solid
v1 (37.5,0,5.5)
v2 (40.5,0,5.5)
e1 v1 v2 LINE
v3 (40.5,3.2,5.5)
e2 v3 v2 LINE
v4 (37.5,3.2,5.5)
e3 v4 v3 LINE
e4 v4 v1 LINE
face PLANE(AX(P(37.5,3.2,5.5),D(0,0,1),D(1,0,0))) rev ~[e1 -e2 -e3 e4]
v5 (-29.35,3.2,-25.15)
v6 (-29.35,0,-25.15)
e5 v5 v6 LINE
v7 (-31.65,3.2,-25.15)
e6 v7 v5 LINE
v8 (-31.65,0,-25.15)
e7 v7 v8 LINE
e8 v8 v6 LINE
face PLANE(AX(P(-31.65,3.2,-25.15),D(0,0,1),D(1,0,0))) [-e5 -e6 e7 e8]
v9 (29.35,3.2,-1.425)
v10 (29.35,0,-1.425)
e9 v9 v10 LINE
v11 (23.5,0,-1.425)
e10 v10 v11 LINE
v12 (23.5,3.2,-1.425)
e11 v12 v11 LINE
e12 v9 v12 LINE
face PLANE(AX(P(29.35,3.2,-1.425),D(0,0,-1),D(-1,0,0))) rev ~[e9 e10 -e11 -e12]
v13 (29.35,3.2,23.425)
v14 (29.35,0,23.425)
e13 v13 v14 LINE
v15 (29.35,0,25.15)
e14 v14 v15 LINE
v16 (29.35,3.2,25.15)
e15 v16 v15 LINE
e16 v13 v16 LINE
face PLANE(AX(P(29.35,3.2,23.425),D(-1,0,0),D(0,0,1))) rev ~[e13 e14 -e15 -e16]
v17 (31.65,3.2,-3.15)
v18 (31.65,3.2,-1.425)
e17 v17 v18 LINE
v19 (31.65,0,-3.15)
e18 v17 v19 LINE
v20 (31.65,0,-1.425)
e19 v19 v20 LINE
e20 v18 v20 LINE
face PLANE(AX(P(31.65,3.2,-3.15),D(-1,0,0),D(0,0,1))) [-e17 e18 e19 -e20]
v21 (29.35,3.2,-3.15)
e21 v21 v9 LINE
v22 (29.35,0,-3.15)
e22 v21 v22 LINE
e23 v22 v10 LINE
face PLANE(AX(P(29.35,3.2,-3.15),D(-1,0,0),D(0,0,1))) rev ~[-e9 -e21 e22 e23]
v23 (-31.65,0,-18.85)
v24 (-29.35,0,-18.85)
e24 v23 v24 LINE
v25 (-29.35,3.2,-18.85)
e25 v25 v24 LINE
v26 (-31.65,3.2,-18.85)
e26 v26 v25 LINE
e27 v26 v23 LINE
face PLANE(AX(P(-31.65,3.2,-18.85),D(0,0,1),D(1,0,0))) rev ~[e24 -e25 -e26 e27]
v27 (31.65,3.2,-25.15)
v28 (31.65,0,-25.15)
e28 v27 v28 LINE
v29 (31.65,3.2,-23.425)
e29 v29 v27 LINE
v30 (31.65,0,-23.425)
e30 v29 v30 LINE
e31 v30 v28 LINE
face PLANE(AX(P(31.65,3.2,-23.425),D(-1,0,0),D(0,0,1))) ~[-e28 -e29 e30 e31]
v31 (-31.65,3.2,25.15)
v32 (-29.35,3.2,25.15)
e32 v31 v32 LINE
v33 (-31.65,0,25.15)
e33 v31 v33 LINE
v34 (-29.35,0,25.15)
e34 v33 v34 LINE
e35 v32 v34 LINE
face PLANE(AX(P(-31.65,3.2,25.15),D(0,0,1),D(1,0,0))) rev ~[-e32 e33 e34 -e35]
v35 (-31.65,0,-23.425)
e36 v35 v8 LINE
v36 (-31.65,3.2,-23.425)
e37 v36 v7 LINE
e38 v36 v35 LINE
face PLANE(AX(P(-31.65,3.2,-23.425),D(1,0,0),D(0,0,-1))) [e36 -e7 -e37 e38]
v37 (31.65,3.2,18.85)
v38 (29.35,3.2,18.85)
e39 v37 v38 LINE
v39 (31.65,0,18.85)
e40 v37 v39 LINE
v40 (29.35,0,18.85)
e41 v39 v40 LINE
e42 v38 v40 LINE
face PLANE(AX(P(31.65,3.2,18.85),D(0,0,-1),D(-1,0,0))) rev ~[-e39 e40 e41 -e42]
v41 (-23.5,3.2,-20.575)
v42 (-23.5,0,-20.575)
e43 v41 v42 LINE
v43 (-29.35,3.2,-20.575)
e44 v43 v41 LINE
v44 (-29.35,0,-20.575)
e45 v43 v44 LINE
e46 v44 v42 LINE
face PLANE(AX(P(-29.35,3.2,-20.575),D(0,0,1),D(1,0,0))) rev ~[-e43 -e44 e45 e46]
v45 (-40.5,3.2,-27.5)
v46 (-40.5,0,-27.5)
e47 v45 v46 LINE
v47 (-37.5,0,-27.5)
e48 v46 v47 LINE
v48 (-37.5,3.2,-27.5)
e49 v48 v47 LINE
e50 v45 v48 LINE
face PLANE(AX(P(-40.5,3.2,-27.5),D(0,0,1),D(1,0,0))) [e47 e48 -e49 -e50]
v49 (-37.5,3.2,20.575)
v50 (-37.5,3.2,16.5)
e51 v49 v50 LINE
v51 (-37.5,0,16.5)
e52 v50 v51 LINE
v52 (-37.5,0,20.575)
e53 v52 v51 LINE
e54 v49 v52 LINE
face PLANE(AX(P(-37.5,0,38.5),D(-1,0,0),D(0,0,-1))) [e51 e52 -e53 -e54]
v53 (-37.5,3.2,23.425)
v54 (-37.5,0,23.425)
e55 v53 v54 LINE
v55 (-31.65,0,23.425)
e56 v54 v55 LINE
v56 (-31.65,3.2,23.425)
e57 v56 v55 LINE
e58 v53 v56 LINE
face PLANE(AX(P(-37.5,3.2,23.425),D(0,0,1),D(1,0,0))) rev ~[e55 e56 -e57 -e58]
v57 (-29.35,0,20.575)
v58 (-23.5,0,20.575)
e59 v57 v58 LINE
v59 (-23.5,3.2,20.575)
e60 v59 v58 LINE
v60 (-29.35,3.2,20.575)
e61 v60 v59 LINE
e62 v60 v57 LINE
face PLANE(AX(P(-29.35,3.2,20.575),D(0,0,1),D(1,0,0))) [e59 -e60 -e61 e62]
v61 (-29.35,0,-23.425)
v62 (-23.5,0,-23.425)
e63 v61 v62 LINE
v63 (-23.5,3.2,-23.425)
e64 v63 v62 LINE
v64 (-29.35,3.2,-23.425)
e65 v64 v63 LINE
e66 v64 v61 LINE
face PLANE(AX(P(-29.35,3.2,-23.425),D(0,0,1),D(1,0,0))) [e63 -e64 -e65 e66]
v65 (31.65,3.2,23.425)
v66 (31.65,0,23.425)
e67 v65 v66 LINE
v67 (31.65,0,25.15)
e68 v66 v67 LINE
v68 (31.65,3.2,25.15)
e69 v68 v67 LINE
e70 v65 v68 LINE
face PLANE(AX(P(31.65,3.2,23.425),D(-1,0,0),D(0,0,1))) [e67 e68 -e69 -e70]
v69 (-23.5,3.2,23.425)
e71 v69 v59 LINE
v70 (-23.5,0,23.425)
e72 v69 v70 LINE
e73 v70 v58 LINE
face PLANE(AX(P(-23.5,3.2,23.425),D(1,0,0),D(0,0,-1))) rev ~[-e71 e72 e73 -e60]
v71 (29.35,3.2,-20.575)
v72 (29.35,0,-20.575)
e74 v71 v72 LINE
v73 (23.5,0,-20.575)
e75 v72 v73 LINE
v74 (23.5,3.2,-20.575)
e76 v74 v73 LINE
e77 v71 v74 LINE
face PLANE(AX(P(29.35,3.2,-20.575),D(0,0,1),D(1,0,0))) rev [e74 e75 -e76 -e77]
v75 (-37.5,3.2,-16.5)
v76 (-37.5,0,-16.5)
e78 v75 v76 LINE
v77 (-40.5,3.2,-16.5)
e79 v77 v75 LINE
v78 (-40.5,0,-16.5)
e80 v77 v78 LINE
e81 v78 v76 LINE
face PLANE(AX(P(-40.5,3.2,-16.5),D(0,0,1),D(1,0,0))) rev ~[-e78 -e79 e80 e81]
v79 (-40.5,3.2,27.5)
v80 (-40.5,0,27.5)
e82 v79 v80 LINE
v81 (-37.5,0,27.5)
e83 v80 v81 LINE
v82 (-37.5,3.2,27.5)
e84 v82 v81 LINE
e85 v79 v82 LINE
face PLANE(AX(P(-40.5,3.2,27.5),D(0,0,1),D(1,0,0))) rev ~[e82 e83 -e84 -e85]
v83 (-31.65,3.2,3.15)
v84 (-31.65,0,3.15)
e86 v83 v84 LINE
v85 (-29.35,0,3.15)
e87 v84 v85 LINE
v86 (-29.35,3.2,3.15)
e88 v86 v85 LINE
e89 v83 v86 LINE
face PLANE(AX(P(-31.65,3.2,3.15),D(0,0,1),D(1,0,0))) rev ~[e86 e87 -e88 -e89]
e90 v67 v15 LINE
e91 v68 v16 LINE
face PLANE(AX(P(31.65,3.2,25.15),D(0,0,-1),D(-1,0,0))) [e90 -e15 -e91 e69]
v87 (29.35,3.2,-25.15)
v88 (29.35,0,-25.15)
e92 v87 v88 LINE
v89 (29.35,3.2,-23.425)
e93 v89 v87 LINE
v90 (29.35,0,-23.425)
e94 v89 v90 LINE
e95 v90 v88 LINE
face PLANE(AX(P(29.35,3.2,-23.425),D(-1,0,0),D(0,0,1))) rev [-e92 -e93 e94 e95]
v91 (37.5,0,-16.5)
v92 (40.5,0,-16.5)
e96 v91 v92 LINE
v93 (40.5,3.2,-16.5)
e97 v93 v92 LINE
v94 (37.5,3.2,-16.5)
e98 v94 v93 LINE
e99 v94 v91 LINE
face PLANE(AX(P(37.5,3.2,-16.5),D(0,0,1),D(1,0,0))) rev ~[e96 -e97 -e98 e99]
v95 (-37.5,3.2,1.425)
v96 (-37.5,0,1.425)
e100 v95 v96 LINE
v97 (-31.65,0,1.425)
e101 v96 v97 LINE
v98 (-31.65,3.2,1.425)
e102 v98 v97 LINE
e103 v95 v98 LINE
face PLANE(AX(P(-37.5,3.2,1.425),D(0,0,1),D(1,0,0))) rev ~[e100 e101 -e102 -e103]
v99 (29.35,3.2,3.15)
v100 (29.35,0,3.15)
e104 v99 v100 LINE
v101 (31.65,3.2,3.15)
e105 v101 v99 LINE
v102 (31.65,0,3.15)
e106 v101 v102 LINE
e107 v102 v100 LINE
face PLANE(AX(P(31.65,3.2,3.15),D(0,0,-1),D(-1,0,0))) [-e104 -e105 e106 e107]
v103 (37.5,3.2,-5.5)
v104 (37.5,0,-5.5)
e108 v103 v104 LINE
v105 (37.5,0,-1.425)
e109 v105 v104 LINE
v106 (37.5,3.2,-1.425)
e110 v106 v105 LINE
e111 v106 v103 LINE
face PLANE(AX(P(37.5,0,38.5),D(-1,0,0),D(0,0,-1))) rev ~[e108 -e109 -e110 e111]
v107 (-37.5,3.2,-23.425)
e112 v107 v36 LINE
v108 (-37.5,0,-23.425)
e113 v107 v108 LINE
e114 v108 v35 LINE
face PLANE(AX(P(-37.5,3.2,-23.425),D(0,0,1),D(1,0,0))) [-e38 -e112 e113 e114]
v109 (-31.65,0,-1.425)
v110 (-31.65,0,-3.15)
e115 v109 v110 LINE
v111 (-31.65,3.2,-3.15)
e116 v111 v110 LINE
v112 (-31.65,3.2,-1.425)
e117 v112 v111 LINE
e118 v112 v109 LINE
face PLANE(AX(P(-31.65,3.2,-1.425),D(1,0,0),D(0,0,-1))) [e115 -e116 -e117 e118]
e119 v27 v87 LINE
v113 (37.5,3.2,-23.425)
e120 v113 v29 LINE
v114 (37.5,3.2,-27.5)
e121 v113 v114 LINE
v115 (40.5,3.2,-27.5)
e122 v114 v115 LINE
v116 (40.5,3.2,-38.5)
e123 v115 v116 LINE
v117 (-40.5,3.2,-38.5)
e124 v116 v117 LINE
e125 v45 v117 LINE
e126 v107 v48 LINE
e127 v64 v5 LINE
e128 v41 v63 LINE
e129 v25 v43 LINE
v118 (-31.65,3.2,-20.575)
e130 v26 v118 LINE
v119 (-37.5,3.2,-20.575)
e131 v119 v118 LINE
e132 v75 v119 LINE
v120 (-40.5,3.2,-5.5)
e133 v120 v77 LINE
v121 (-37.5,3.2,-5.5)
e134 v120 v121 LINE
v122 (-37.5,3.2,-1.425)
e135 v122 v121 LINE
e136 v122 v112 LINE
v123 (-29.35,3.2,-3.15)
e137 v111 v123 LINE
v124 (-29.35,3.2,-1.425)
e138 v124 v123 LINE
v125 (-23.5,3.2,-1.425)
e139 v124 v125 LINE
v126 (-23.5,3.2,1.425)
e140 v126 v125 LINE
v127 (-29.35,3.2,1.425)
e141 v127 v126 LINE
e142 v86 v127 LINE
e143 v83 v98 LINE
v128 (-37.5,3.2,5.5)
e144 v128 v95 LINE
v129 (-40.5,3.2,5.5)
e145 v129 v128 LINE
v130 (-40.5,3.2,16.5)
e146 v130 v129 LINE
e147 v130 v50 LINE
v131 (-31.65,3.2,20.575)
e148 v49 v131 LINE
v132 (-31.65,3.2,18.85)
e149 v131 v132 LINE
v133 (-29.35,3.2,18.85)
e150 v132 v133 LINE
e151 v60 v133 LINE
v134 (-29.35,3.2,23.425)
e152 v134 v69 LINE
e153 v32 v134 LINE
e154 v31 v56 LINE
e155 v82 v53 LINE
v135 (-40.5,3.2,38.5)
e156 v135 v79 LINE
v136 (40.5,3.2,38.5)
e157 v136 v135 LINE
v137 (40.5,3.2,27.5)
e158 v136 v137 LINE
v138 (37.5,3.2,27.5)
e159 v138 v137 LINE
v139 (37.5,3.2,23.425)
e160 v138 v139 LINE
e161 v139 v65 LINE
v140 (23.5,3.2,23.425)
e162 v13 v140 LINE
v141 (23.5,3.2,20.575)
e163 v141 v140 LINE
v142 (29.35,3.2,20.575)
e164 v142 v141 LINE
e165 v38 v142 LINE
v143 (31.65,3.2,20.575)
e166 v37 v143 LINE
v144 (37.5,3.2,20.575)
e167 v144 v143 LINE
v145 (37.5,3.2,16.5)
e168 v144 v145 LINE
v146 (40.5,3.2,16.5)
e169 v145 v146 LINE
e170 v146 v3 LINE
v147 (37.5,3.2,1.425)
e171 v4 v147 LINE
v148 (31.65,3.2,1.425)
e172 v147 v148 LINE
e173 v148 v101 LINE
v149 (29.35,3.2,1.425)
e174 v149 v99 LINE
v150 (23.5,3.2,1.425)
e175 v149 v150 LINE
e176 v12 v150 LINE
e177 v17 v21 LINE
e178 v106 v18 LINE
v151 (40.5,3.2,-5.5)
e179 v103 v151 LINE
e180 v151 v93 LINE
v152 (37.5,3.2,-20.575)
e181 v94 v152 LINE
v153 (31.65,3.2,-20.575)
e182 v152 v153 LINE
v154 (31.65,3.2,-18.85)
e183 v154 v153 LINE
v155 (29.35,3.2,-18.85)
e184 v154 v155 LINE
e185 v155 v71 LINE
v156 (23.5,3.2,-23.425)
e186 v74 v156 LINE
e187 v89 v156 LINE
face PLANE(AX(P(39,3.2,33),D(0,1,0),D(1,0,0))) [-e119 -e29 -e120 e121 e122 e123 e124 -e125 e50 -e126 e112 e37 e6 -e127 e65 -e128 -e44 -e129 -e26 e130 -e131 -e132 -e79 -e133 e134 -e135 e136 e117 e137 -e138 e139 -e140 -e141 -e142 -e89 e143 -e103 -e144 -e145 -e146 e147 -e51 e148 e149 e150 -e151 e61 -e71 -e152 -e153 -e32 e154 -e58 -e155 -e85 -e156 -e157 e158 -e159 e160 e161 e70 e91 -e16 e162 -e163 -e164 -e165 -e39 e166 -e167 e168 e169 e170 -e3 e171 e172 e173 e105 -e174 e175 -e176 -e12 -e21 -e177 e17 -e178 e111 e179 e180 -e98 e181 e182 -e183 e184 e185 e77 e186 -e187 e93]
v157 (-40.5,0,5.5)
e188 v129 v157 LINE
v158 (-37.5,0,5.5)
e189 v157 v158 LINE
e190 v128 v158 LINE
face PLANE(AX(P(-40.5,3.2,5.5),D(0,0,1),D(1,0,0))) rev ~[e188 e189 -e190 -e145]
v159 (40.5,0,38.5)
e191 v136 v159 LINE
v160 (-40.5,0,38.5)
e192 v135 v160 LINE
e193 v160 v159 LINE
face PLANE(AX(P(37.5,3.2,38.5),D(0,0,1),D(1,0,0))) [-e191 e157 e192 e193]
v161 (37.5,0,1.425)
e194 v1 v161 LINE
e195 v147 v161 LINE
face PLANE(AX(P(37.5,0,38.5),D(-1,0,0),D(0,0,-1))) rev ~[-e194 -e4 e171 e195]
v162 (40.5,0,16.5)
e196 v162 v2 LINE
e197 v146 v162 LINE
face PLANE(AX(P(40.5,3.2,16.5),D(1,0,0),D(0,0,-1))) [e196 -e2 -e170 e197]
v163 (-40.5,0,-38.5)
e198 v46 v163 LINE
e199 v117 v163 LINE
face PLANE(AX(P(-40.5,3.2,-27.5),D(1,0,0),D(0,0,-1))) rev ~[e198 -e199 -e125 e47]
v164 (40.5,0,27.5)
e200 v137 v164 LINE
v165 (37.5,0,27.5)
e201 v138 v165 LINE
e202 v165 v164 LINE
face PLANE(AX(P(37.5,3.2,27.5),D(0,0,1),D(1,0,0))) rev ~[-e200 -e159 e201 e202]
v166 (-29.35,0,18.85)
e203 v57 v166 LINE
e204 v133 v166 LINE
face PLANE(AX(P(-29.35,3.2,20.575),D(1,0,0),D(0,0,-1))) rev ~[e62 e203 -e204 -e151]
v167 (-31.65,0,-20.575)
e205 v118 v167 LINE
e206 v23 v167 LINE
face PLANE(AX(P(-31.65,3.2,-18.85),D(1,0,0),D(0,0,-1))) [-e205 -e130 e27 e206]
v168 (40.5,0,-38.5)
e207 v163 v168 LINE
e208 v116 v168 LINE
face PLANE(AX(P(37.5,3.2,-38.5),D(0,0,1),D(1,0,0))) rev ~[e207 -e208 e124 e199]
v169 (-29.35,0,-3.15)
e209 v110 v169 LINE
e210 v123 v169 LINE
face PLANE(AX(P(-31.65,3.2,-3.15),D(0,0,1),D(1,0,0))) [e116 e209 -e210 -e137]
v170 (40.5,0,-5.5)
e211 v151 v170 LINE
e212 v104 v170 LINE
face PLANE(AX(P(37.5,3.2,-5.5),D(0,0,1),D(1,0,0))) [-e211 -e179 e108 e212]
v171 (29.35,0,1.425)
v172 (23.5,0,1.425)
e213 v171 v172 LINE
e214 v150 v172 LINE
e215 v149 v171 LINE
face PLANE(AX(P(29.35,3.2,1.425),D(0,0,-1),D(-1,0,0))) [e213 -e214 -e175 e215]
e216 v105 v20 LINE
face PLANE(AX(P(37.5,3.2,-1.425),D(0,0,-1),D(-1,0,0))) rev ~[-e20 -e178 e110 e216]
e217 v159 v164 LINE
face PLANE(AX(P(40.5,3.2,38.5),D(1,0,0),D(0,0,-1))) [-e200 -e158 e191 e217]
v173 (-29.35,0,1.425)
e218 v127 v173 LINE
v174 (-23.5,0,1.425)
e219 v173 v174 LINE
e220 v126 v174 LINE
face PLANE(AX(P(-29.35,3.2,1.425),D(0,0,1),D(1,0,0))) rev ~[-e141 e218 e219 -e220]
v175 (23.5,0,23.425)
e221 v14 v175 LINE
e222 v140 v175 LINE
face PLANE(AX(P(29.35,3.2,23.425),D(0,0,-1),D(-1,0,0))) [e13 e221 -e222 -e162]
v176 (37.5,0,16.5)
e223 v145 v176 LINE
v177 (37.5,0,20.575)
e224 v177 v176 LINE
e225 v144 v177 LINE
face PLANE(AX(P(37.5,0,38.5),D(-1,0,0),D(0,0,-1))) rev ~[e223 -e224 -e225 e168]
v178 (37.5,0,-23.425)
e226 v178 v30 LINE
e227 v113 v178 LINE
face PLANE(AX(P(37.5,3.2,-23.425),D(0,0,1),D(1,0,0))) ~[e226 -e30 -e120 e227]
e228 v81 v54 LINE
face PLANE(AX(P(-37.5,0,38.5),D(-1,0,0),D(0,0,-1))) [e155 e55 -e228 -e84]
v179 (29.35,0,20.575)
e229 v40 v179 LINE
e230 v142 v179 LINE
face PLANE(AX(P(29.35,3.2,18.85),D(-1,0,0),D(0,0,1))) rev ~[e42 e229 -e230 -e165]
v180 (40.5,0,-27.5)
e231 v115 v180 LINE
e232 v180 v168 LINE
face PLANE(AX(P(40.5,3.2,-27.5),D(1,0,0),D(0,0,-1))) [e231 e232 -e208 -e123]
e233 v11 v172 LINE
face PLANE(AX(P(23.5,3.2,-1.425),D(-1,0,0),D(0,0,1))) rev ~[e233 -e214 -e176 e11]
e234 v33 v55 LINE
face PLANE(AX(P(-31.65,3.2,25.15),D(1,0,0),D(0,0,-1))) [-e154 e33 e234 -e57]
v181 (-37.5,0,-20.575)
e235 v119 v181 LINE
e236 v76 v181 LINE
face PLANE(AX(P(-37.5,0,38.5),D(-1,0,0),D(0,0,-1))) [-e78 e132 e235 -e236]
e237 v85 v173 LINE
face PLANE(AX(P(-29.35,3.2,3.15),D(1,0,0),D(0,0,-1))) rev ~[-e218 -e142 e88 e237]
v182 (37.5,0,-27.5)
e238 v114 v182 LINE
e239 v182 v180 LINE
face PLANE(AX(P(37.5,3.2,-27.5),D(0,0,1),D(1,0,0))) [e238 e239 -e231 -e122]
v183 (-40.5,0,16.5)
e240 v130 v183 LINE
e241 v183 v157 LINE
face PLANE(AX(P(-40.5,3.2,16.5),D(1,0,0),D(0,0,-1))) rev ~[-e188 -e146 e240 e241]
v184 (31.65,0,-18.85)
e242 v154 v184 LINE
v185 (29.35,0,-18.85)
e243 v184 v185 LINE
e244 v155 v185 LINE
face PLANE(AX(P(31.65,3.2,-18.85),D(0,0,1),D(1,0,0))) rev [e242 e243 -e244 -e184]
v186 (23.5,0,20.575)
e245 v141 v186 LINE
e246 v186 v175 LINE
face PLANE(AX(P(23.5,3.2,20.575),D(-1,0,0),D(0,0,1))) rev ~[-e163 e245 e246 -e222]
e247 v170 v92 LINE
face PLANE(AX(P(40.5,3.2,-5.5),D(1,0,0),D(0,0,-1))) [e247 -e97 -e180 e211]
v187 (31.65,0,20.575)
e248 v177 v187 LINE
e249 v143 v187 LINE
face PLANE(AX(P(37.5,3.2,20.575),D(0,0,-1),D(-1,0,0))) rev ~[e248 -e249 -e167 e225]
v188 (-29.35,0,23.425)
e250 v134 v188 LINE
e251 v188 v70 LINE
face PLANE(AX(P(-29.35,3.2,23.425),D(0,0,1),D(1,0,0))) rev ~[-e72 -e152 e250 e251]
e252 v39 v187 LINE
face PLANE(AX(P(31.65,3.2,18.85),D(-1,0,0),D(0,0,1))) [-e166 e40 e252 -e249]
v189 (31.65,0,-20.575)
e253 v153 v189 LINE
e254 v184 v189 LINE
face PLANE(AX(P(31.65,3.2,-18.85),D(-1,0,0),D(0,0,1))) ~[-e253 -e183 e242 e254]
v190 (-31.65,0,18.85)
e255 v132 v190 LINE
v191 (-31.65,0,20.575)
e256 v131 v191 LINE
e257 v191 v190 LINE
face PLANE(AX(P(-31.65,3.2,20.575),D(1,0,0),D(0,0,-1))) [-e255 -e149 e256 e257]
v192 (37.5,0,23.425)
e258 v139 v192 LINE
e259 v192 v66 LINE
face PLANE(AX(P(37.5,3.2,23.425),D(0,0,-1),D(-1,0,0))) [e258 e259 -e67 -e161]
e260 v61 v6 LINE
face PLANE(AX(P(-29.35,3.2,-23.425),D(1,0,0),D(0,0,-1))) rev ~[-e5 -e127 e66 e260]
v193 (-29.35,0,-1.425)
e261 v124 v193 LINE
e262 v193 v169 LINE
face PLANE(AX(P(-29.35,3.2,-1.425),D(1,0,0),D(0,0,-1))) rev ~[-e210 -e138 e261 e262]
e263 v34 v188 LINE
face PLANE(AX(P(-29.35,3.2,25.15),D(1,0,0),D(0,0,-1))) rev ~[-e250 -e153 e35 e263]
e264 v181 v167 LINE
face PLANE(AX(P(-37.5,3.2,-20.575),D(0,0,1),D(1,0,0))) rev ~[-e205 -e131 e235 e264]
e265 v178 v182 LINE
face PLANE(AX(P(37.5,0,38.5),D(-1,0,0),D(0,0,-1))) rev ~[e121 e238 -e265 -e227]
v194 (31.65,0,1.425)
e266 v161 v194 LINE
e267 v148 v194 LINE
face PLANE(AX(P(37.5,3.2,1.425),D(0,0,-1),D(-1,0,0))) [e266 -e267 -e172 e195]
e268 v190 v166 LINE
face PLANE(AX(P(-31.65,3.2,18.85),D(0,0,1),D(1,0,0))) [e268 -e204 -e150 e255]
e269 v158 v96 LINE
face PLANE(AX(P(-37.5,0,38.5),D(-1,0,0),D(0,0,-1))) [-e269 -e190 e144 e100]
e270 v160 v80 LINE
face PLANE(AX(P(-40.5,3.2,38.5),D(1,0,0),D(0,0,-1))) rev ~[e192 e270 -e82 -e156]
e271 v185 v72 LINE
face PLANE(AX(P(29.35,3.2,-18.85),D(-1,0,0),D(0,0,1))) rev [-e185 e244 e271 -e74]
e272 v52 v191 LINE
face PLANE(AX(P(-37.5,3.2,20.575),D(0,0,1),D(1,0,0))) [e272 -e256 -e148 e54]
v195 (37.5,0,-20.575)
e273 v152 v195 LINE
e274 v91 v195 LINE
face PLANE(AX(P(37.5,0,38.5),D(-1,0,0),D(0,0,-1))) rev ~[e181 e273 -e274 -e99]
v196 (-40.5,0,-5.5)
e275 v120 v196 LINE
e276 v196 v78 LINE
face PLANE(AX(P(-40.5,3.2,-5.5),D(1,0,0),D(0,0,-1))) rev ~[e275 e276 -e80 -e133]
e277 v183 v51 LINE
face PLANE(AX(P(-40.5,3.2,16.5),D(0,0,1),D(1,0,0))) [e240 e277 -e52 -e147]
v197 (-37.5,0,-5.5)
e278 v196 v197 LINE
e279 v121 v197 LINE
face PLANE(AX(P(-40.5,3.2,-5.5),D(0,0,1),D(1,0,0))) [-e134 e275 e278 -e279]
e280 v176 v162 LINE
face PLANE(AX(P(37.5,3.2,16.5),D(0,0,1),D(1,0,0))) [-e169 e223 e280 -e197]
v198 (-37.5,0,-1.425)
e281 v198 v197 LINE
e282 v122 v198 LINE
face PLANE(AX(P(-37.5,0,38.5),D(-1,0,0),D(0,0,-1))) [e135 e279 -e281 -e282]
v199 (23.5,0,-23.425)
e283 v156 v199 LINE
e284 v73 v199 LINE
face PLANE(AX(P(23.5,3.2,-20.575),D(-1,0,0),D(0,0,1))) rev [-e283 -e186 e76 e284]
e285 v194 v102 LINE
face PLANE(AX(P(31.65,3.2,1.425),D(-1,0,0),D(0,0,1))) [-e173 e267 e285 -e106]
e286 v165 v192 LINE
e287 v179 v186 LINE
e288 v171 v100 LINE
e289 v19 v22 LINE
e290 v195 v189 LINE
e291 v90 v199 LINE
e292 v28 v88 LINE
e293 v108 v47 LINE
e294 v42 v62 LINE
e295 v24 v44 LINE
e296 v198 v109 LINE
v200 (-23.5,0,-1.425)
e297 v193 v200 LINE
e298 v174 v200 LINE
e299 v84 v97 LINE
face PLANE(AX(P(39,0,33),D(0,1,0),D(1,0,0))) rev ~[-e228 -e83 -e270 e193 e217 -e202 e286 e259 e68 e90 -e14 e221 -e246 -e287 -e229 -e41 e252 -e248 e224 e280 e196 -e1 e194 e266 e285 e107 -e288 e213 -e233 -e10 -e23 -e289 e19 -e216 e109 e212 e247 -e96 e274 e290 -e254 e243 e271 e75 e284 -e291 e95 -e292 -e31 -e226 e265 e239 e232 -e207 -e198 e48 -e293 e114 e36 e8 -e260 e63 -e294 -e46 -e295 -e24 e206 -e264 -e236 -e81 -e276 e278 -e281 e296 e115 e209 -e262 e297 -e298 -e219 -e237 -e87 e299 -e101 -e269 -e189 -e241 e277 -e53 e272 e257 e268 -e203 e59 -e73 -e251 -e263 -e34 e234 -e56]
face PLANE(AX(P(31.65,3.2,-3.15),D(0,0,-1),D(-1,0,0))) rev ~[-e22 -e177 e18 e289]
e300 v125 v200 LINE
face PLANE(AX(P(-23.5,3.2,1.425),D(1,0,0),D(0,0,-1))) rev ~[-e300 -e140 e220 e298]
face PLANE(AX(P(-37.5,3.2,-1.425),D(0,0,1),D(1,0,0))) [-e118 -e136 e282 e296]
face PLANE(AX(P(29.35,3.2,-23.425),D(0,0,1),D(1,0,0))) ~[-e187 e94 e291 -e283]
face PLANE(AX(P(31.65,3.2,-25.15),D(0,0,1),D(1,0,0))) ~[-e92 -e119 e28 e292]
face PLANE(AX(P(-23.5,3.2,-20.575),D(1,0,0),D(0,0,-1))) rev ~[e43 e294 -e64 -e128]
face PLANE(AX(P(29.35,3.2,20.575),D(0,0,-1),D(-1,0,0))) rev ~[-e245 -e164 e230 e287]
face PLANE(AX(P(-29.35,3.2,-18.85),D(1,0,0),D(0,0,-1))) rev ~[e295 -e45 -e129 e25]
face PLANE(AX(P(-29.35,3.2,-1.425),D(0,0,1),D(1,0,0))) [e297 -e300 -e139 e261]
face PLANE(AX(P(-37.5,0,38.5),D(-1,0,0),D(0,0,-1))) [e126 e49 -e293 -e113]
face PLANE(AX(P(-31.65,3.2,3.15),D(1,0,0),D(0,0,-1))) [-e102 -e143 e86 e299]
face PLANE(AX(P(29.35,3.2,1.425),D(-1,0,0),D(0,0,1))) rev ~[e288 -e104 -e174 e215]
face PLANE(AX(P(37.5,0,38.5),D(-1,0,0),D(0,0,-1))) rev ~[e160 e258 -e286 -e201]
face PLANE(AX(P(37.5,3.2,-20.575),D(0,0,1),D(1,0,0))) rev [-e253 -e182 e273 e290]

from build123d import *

# Parameters (mm, degrees)
SKETCH1_W                 = 75
SKETCH1_H                 = 77
BOSS_EXTRUDE1_DEPTH       = 3.2
SKETCH2_W                 = 3
SKETCH2_H                 = 11
BOSS_EXTRUDE3_DEPTH       = 3.2
LPATTERN1_COUNT           = 4
LPATTERN1_PITCH           = 22
SKETCH4_W                 = 3
SKETCH4_H                 = 11
BOSS_EXTRUDE5_DEPTH       = 3.2
LPATTERN2_COUNT           = 4
LPATTERN2_PITCH           = 22
SKETCH5_W                 = 14
SKETCH5_H                 = 2.85
SKETCH5_W_2               = 2.3
SKETCH5_H_2               = 6.3
CUT_EXTRUDE1_DEPTH        = 56.970885289
LPATTERN3_COUNT           = 3
LPATTERN3_PITCH           = 22
MIRROR1_COPY_1_SKETCH_W   = 14
MIRROR1_COPY_1_SKETCH_H   = 2.85
MIRROR1_COPY_1_SKETCH_W_2 = 2.3
MIRROR1_COPY_1_SKETCH_H_2 = 6.3
MIRROR1_COPY_1_DEPTH      = 56.970885289
MIRROR1_COPY_2_SKETCH_W   = 14
MIRROR1_COPY_2_SKETCH_H   = 2.85
MIRROR1_COPY_2_SKETCH_W_2 = 2.3
MIRROR1_COPY_2_SKETCH_H_2 = 6.3
MIRROR1_COPY_2_DEPTH      = 56.970885289


with BuildPart() as part:
    # Sketch1 → Boss-Extrude1 (new body)
    with BuildSketch(Plane(origin=(0, 0, 0), x_dir=(1, 0, 0), z_dir=(0, 1, 0))):
        Rectangle(SKETCH1_W, SKETCH1_H)
    extrude(amount=BOSS_EXTRUDE1_DEPTH)

    # Sketch2 → Boss-Extrude3 (add)
    with BuildSketch(Plane(origin=(0, 3.2, 0), x_dir=(1, 0, 0), z_dir=(0, 1, 0))):
        with Locations((-39, 33)):
            Rectangle(SKETCH2_W, SKETCH2_H)
    boss_extrude3 = extrude(amount=-BOSS_EXTRUDE3_DEPTH)

    # LPattern1: Boss-Extrude3 ×4
    with Locations(*[(0, 0, i * LPATTERN1_PITCH) for i in range(1, LPATTERN1_COUNT)]):
        add(boss_extrude3)

    # Sketch4 → Boss-Extrude5 (add)
    with BuildSketch(Plane(origin=(0, 3.2, 0), x_dir=(1, 0, 0), z_dir=(0, 1, 0))):
        with Locations((39, 33)):
            Rectangle(SKETCH4_W, SKETCH4_H)
    boss_extrude5 = extrude(amount=-BOSS_EXTRUDE5_DEPTH)

    # LPattern2: Boss-Extrude5 ×4
    with Locations(*[(0, 0, i * LPATTERN2_PITCH) for i in range(1, LPATTERN2_COUNT)]):
        add(boss_extrude5)

    # Sketch5 → Cut-Extrude1 (cut, through all)
    with BuildSketch(Plane(origin=(0, 3.2, 0), x_dir=(1, 0, 0), z_dir=(0, 1, 0))):
        with Locations((-30.5, 22)):
            Rectangle(SKETCH5_W, SKETCH5_H)
        with Locations((-30.5, 22)):
            Rectangle(SKETCH5_W_2, SKETCH5_H_2)
    cut_extrude1 = extrude(amount=-CUT_EXTRUDE1_DEPTH, mode=Mode.SUBTRACT)

    # LPattern3: Cut-Extrude1 ×3
    with Locations(*[(0, 0, i * LPATTERN3_PITCH) for i in range(1, LPATTERN3_COUNT)]):
        add(cut_extrude1, mode=Mode.SUBTRACT)

    # Mirror1: Cut-Extrude1 across plane
    add(cut_extrude1.mirror(Plane(origin=(0, 0, 0), x_dir=(0, 0, 1), z_dir=(1, 0, 0))), mode=Mode.SUBTRACT)

    # Mirror1 copy 1 sketch → Mirror1 copy 1 (cut, through all)
    with BuildSketch(Plane(origin=(0, 3.2, 22), x_dir=(-1, 0, 0), z_dir=(0, 1, 0))):
        with Locations((-30.5, -22)):
            Rectangle(MIRROR1_COPY_1_SKETCH_W, MIRROR1_COPY_1_SKETCH_H)
        with Locations((-30.5, -22)):
            Rectangle(MIRROR1_COPY_1_SKETCH_W_2, MIRROR1_COPY_1_SKETCH_H_2)
    extrude(amount=-MIRROR1_COPY_1_DEPTH, mode=Mode.SUBTRACT)

    # Mirror1 copy 2 sketch → Mirror1 copy 2 (cut, through all)
    with BuildSketch(Plane(origin=(0, 3.2, 44), x_dir=(-1, 0, 0), z_dir=(0, 1, 0))):
        with Locations((-30.5, -22)):
            Rectangle(MIRROR1_COPY_2_SKETCH_W, MIRROR1_COPY_2_SKETCH_H)
        with Locations((-30.5, -22)):
            Rectangle(MIRROR1_COPY_2_SKETCH_W_2, MIRROR1_COPY_2_SKETCH_H_2)
    extrude(amount=-MIRROR1_COPY_2_DEPTH, mode=Mode.SUBTRACT)


solid = part.part
